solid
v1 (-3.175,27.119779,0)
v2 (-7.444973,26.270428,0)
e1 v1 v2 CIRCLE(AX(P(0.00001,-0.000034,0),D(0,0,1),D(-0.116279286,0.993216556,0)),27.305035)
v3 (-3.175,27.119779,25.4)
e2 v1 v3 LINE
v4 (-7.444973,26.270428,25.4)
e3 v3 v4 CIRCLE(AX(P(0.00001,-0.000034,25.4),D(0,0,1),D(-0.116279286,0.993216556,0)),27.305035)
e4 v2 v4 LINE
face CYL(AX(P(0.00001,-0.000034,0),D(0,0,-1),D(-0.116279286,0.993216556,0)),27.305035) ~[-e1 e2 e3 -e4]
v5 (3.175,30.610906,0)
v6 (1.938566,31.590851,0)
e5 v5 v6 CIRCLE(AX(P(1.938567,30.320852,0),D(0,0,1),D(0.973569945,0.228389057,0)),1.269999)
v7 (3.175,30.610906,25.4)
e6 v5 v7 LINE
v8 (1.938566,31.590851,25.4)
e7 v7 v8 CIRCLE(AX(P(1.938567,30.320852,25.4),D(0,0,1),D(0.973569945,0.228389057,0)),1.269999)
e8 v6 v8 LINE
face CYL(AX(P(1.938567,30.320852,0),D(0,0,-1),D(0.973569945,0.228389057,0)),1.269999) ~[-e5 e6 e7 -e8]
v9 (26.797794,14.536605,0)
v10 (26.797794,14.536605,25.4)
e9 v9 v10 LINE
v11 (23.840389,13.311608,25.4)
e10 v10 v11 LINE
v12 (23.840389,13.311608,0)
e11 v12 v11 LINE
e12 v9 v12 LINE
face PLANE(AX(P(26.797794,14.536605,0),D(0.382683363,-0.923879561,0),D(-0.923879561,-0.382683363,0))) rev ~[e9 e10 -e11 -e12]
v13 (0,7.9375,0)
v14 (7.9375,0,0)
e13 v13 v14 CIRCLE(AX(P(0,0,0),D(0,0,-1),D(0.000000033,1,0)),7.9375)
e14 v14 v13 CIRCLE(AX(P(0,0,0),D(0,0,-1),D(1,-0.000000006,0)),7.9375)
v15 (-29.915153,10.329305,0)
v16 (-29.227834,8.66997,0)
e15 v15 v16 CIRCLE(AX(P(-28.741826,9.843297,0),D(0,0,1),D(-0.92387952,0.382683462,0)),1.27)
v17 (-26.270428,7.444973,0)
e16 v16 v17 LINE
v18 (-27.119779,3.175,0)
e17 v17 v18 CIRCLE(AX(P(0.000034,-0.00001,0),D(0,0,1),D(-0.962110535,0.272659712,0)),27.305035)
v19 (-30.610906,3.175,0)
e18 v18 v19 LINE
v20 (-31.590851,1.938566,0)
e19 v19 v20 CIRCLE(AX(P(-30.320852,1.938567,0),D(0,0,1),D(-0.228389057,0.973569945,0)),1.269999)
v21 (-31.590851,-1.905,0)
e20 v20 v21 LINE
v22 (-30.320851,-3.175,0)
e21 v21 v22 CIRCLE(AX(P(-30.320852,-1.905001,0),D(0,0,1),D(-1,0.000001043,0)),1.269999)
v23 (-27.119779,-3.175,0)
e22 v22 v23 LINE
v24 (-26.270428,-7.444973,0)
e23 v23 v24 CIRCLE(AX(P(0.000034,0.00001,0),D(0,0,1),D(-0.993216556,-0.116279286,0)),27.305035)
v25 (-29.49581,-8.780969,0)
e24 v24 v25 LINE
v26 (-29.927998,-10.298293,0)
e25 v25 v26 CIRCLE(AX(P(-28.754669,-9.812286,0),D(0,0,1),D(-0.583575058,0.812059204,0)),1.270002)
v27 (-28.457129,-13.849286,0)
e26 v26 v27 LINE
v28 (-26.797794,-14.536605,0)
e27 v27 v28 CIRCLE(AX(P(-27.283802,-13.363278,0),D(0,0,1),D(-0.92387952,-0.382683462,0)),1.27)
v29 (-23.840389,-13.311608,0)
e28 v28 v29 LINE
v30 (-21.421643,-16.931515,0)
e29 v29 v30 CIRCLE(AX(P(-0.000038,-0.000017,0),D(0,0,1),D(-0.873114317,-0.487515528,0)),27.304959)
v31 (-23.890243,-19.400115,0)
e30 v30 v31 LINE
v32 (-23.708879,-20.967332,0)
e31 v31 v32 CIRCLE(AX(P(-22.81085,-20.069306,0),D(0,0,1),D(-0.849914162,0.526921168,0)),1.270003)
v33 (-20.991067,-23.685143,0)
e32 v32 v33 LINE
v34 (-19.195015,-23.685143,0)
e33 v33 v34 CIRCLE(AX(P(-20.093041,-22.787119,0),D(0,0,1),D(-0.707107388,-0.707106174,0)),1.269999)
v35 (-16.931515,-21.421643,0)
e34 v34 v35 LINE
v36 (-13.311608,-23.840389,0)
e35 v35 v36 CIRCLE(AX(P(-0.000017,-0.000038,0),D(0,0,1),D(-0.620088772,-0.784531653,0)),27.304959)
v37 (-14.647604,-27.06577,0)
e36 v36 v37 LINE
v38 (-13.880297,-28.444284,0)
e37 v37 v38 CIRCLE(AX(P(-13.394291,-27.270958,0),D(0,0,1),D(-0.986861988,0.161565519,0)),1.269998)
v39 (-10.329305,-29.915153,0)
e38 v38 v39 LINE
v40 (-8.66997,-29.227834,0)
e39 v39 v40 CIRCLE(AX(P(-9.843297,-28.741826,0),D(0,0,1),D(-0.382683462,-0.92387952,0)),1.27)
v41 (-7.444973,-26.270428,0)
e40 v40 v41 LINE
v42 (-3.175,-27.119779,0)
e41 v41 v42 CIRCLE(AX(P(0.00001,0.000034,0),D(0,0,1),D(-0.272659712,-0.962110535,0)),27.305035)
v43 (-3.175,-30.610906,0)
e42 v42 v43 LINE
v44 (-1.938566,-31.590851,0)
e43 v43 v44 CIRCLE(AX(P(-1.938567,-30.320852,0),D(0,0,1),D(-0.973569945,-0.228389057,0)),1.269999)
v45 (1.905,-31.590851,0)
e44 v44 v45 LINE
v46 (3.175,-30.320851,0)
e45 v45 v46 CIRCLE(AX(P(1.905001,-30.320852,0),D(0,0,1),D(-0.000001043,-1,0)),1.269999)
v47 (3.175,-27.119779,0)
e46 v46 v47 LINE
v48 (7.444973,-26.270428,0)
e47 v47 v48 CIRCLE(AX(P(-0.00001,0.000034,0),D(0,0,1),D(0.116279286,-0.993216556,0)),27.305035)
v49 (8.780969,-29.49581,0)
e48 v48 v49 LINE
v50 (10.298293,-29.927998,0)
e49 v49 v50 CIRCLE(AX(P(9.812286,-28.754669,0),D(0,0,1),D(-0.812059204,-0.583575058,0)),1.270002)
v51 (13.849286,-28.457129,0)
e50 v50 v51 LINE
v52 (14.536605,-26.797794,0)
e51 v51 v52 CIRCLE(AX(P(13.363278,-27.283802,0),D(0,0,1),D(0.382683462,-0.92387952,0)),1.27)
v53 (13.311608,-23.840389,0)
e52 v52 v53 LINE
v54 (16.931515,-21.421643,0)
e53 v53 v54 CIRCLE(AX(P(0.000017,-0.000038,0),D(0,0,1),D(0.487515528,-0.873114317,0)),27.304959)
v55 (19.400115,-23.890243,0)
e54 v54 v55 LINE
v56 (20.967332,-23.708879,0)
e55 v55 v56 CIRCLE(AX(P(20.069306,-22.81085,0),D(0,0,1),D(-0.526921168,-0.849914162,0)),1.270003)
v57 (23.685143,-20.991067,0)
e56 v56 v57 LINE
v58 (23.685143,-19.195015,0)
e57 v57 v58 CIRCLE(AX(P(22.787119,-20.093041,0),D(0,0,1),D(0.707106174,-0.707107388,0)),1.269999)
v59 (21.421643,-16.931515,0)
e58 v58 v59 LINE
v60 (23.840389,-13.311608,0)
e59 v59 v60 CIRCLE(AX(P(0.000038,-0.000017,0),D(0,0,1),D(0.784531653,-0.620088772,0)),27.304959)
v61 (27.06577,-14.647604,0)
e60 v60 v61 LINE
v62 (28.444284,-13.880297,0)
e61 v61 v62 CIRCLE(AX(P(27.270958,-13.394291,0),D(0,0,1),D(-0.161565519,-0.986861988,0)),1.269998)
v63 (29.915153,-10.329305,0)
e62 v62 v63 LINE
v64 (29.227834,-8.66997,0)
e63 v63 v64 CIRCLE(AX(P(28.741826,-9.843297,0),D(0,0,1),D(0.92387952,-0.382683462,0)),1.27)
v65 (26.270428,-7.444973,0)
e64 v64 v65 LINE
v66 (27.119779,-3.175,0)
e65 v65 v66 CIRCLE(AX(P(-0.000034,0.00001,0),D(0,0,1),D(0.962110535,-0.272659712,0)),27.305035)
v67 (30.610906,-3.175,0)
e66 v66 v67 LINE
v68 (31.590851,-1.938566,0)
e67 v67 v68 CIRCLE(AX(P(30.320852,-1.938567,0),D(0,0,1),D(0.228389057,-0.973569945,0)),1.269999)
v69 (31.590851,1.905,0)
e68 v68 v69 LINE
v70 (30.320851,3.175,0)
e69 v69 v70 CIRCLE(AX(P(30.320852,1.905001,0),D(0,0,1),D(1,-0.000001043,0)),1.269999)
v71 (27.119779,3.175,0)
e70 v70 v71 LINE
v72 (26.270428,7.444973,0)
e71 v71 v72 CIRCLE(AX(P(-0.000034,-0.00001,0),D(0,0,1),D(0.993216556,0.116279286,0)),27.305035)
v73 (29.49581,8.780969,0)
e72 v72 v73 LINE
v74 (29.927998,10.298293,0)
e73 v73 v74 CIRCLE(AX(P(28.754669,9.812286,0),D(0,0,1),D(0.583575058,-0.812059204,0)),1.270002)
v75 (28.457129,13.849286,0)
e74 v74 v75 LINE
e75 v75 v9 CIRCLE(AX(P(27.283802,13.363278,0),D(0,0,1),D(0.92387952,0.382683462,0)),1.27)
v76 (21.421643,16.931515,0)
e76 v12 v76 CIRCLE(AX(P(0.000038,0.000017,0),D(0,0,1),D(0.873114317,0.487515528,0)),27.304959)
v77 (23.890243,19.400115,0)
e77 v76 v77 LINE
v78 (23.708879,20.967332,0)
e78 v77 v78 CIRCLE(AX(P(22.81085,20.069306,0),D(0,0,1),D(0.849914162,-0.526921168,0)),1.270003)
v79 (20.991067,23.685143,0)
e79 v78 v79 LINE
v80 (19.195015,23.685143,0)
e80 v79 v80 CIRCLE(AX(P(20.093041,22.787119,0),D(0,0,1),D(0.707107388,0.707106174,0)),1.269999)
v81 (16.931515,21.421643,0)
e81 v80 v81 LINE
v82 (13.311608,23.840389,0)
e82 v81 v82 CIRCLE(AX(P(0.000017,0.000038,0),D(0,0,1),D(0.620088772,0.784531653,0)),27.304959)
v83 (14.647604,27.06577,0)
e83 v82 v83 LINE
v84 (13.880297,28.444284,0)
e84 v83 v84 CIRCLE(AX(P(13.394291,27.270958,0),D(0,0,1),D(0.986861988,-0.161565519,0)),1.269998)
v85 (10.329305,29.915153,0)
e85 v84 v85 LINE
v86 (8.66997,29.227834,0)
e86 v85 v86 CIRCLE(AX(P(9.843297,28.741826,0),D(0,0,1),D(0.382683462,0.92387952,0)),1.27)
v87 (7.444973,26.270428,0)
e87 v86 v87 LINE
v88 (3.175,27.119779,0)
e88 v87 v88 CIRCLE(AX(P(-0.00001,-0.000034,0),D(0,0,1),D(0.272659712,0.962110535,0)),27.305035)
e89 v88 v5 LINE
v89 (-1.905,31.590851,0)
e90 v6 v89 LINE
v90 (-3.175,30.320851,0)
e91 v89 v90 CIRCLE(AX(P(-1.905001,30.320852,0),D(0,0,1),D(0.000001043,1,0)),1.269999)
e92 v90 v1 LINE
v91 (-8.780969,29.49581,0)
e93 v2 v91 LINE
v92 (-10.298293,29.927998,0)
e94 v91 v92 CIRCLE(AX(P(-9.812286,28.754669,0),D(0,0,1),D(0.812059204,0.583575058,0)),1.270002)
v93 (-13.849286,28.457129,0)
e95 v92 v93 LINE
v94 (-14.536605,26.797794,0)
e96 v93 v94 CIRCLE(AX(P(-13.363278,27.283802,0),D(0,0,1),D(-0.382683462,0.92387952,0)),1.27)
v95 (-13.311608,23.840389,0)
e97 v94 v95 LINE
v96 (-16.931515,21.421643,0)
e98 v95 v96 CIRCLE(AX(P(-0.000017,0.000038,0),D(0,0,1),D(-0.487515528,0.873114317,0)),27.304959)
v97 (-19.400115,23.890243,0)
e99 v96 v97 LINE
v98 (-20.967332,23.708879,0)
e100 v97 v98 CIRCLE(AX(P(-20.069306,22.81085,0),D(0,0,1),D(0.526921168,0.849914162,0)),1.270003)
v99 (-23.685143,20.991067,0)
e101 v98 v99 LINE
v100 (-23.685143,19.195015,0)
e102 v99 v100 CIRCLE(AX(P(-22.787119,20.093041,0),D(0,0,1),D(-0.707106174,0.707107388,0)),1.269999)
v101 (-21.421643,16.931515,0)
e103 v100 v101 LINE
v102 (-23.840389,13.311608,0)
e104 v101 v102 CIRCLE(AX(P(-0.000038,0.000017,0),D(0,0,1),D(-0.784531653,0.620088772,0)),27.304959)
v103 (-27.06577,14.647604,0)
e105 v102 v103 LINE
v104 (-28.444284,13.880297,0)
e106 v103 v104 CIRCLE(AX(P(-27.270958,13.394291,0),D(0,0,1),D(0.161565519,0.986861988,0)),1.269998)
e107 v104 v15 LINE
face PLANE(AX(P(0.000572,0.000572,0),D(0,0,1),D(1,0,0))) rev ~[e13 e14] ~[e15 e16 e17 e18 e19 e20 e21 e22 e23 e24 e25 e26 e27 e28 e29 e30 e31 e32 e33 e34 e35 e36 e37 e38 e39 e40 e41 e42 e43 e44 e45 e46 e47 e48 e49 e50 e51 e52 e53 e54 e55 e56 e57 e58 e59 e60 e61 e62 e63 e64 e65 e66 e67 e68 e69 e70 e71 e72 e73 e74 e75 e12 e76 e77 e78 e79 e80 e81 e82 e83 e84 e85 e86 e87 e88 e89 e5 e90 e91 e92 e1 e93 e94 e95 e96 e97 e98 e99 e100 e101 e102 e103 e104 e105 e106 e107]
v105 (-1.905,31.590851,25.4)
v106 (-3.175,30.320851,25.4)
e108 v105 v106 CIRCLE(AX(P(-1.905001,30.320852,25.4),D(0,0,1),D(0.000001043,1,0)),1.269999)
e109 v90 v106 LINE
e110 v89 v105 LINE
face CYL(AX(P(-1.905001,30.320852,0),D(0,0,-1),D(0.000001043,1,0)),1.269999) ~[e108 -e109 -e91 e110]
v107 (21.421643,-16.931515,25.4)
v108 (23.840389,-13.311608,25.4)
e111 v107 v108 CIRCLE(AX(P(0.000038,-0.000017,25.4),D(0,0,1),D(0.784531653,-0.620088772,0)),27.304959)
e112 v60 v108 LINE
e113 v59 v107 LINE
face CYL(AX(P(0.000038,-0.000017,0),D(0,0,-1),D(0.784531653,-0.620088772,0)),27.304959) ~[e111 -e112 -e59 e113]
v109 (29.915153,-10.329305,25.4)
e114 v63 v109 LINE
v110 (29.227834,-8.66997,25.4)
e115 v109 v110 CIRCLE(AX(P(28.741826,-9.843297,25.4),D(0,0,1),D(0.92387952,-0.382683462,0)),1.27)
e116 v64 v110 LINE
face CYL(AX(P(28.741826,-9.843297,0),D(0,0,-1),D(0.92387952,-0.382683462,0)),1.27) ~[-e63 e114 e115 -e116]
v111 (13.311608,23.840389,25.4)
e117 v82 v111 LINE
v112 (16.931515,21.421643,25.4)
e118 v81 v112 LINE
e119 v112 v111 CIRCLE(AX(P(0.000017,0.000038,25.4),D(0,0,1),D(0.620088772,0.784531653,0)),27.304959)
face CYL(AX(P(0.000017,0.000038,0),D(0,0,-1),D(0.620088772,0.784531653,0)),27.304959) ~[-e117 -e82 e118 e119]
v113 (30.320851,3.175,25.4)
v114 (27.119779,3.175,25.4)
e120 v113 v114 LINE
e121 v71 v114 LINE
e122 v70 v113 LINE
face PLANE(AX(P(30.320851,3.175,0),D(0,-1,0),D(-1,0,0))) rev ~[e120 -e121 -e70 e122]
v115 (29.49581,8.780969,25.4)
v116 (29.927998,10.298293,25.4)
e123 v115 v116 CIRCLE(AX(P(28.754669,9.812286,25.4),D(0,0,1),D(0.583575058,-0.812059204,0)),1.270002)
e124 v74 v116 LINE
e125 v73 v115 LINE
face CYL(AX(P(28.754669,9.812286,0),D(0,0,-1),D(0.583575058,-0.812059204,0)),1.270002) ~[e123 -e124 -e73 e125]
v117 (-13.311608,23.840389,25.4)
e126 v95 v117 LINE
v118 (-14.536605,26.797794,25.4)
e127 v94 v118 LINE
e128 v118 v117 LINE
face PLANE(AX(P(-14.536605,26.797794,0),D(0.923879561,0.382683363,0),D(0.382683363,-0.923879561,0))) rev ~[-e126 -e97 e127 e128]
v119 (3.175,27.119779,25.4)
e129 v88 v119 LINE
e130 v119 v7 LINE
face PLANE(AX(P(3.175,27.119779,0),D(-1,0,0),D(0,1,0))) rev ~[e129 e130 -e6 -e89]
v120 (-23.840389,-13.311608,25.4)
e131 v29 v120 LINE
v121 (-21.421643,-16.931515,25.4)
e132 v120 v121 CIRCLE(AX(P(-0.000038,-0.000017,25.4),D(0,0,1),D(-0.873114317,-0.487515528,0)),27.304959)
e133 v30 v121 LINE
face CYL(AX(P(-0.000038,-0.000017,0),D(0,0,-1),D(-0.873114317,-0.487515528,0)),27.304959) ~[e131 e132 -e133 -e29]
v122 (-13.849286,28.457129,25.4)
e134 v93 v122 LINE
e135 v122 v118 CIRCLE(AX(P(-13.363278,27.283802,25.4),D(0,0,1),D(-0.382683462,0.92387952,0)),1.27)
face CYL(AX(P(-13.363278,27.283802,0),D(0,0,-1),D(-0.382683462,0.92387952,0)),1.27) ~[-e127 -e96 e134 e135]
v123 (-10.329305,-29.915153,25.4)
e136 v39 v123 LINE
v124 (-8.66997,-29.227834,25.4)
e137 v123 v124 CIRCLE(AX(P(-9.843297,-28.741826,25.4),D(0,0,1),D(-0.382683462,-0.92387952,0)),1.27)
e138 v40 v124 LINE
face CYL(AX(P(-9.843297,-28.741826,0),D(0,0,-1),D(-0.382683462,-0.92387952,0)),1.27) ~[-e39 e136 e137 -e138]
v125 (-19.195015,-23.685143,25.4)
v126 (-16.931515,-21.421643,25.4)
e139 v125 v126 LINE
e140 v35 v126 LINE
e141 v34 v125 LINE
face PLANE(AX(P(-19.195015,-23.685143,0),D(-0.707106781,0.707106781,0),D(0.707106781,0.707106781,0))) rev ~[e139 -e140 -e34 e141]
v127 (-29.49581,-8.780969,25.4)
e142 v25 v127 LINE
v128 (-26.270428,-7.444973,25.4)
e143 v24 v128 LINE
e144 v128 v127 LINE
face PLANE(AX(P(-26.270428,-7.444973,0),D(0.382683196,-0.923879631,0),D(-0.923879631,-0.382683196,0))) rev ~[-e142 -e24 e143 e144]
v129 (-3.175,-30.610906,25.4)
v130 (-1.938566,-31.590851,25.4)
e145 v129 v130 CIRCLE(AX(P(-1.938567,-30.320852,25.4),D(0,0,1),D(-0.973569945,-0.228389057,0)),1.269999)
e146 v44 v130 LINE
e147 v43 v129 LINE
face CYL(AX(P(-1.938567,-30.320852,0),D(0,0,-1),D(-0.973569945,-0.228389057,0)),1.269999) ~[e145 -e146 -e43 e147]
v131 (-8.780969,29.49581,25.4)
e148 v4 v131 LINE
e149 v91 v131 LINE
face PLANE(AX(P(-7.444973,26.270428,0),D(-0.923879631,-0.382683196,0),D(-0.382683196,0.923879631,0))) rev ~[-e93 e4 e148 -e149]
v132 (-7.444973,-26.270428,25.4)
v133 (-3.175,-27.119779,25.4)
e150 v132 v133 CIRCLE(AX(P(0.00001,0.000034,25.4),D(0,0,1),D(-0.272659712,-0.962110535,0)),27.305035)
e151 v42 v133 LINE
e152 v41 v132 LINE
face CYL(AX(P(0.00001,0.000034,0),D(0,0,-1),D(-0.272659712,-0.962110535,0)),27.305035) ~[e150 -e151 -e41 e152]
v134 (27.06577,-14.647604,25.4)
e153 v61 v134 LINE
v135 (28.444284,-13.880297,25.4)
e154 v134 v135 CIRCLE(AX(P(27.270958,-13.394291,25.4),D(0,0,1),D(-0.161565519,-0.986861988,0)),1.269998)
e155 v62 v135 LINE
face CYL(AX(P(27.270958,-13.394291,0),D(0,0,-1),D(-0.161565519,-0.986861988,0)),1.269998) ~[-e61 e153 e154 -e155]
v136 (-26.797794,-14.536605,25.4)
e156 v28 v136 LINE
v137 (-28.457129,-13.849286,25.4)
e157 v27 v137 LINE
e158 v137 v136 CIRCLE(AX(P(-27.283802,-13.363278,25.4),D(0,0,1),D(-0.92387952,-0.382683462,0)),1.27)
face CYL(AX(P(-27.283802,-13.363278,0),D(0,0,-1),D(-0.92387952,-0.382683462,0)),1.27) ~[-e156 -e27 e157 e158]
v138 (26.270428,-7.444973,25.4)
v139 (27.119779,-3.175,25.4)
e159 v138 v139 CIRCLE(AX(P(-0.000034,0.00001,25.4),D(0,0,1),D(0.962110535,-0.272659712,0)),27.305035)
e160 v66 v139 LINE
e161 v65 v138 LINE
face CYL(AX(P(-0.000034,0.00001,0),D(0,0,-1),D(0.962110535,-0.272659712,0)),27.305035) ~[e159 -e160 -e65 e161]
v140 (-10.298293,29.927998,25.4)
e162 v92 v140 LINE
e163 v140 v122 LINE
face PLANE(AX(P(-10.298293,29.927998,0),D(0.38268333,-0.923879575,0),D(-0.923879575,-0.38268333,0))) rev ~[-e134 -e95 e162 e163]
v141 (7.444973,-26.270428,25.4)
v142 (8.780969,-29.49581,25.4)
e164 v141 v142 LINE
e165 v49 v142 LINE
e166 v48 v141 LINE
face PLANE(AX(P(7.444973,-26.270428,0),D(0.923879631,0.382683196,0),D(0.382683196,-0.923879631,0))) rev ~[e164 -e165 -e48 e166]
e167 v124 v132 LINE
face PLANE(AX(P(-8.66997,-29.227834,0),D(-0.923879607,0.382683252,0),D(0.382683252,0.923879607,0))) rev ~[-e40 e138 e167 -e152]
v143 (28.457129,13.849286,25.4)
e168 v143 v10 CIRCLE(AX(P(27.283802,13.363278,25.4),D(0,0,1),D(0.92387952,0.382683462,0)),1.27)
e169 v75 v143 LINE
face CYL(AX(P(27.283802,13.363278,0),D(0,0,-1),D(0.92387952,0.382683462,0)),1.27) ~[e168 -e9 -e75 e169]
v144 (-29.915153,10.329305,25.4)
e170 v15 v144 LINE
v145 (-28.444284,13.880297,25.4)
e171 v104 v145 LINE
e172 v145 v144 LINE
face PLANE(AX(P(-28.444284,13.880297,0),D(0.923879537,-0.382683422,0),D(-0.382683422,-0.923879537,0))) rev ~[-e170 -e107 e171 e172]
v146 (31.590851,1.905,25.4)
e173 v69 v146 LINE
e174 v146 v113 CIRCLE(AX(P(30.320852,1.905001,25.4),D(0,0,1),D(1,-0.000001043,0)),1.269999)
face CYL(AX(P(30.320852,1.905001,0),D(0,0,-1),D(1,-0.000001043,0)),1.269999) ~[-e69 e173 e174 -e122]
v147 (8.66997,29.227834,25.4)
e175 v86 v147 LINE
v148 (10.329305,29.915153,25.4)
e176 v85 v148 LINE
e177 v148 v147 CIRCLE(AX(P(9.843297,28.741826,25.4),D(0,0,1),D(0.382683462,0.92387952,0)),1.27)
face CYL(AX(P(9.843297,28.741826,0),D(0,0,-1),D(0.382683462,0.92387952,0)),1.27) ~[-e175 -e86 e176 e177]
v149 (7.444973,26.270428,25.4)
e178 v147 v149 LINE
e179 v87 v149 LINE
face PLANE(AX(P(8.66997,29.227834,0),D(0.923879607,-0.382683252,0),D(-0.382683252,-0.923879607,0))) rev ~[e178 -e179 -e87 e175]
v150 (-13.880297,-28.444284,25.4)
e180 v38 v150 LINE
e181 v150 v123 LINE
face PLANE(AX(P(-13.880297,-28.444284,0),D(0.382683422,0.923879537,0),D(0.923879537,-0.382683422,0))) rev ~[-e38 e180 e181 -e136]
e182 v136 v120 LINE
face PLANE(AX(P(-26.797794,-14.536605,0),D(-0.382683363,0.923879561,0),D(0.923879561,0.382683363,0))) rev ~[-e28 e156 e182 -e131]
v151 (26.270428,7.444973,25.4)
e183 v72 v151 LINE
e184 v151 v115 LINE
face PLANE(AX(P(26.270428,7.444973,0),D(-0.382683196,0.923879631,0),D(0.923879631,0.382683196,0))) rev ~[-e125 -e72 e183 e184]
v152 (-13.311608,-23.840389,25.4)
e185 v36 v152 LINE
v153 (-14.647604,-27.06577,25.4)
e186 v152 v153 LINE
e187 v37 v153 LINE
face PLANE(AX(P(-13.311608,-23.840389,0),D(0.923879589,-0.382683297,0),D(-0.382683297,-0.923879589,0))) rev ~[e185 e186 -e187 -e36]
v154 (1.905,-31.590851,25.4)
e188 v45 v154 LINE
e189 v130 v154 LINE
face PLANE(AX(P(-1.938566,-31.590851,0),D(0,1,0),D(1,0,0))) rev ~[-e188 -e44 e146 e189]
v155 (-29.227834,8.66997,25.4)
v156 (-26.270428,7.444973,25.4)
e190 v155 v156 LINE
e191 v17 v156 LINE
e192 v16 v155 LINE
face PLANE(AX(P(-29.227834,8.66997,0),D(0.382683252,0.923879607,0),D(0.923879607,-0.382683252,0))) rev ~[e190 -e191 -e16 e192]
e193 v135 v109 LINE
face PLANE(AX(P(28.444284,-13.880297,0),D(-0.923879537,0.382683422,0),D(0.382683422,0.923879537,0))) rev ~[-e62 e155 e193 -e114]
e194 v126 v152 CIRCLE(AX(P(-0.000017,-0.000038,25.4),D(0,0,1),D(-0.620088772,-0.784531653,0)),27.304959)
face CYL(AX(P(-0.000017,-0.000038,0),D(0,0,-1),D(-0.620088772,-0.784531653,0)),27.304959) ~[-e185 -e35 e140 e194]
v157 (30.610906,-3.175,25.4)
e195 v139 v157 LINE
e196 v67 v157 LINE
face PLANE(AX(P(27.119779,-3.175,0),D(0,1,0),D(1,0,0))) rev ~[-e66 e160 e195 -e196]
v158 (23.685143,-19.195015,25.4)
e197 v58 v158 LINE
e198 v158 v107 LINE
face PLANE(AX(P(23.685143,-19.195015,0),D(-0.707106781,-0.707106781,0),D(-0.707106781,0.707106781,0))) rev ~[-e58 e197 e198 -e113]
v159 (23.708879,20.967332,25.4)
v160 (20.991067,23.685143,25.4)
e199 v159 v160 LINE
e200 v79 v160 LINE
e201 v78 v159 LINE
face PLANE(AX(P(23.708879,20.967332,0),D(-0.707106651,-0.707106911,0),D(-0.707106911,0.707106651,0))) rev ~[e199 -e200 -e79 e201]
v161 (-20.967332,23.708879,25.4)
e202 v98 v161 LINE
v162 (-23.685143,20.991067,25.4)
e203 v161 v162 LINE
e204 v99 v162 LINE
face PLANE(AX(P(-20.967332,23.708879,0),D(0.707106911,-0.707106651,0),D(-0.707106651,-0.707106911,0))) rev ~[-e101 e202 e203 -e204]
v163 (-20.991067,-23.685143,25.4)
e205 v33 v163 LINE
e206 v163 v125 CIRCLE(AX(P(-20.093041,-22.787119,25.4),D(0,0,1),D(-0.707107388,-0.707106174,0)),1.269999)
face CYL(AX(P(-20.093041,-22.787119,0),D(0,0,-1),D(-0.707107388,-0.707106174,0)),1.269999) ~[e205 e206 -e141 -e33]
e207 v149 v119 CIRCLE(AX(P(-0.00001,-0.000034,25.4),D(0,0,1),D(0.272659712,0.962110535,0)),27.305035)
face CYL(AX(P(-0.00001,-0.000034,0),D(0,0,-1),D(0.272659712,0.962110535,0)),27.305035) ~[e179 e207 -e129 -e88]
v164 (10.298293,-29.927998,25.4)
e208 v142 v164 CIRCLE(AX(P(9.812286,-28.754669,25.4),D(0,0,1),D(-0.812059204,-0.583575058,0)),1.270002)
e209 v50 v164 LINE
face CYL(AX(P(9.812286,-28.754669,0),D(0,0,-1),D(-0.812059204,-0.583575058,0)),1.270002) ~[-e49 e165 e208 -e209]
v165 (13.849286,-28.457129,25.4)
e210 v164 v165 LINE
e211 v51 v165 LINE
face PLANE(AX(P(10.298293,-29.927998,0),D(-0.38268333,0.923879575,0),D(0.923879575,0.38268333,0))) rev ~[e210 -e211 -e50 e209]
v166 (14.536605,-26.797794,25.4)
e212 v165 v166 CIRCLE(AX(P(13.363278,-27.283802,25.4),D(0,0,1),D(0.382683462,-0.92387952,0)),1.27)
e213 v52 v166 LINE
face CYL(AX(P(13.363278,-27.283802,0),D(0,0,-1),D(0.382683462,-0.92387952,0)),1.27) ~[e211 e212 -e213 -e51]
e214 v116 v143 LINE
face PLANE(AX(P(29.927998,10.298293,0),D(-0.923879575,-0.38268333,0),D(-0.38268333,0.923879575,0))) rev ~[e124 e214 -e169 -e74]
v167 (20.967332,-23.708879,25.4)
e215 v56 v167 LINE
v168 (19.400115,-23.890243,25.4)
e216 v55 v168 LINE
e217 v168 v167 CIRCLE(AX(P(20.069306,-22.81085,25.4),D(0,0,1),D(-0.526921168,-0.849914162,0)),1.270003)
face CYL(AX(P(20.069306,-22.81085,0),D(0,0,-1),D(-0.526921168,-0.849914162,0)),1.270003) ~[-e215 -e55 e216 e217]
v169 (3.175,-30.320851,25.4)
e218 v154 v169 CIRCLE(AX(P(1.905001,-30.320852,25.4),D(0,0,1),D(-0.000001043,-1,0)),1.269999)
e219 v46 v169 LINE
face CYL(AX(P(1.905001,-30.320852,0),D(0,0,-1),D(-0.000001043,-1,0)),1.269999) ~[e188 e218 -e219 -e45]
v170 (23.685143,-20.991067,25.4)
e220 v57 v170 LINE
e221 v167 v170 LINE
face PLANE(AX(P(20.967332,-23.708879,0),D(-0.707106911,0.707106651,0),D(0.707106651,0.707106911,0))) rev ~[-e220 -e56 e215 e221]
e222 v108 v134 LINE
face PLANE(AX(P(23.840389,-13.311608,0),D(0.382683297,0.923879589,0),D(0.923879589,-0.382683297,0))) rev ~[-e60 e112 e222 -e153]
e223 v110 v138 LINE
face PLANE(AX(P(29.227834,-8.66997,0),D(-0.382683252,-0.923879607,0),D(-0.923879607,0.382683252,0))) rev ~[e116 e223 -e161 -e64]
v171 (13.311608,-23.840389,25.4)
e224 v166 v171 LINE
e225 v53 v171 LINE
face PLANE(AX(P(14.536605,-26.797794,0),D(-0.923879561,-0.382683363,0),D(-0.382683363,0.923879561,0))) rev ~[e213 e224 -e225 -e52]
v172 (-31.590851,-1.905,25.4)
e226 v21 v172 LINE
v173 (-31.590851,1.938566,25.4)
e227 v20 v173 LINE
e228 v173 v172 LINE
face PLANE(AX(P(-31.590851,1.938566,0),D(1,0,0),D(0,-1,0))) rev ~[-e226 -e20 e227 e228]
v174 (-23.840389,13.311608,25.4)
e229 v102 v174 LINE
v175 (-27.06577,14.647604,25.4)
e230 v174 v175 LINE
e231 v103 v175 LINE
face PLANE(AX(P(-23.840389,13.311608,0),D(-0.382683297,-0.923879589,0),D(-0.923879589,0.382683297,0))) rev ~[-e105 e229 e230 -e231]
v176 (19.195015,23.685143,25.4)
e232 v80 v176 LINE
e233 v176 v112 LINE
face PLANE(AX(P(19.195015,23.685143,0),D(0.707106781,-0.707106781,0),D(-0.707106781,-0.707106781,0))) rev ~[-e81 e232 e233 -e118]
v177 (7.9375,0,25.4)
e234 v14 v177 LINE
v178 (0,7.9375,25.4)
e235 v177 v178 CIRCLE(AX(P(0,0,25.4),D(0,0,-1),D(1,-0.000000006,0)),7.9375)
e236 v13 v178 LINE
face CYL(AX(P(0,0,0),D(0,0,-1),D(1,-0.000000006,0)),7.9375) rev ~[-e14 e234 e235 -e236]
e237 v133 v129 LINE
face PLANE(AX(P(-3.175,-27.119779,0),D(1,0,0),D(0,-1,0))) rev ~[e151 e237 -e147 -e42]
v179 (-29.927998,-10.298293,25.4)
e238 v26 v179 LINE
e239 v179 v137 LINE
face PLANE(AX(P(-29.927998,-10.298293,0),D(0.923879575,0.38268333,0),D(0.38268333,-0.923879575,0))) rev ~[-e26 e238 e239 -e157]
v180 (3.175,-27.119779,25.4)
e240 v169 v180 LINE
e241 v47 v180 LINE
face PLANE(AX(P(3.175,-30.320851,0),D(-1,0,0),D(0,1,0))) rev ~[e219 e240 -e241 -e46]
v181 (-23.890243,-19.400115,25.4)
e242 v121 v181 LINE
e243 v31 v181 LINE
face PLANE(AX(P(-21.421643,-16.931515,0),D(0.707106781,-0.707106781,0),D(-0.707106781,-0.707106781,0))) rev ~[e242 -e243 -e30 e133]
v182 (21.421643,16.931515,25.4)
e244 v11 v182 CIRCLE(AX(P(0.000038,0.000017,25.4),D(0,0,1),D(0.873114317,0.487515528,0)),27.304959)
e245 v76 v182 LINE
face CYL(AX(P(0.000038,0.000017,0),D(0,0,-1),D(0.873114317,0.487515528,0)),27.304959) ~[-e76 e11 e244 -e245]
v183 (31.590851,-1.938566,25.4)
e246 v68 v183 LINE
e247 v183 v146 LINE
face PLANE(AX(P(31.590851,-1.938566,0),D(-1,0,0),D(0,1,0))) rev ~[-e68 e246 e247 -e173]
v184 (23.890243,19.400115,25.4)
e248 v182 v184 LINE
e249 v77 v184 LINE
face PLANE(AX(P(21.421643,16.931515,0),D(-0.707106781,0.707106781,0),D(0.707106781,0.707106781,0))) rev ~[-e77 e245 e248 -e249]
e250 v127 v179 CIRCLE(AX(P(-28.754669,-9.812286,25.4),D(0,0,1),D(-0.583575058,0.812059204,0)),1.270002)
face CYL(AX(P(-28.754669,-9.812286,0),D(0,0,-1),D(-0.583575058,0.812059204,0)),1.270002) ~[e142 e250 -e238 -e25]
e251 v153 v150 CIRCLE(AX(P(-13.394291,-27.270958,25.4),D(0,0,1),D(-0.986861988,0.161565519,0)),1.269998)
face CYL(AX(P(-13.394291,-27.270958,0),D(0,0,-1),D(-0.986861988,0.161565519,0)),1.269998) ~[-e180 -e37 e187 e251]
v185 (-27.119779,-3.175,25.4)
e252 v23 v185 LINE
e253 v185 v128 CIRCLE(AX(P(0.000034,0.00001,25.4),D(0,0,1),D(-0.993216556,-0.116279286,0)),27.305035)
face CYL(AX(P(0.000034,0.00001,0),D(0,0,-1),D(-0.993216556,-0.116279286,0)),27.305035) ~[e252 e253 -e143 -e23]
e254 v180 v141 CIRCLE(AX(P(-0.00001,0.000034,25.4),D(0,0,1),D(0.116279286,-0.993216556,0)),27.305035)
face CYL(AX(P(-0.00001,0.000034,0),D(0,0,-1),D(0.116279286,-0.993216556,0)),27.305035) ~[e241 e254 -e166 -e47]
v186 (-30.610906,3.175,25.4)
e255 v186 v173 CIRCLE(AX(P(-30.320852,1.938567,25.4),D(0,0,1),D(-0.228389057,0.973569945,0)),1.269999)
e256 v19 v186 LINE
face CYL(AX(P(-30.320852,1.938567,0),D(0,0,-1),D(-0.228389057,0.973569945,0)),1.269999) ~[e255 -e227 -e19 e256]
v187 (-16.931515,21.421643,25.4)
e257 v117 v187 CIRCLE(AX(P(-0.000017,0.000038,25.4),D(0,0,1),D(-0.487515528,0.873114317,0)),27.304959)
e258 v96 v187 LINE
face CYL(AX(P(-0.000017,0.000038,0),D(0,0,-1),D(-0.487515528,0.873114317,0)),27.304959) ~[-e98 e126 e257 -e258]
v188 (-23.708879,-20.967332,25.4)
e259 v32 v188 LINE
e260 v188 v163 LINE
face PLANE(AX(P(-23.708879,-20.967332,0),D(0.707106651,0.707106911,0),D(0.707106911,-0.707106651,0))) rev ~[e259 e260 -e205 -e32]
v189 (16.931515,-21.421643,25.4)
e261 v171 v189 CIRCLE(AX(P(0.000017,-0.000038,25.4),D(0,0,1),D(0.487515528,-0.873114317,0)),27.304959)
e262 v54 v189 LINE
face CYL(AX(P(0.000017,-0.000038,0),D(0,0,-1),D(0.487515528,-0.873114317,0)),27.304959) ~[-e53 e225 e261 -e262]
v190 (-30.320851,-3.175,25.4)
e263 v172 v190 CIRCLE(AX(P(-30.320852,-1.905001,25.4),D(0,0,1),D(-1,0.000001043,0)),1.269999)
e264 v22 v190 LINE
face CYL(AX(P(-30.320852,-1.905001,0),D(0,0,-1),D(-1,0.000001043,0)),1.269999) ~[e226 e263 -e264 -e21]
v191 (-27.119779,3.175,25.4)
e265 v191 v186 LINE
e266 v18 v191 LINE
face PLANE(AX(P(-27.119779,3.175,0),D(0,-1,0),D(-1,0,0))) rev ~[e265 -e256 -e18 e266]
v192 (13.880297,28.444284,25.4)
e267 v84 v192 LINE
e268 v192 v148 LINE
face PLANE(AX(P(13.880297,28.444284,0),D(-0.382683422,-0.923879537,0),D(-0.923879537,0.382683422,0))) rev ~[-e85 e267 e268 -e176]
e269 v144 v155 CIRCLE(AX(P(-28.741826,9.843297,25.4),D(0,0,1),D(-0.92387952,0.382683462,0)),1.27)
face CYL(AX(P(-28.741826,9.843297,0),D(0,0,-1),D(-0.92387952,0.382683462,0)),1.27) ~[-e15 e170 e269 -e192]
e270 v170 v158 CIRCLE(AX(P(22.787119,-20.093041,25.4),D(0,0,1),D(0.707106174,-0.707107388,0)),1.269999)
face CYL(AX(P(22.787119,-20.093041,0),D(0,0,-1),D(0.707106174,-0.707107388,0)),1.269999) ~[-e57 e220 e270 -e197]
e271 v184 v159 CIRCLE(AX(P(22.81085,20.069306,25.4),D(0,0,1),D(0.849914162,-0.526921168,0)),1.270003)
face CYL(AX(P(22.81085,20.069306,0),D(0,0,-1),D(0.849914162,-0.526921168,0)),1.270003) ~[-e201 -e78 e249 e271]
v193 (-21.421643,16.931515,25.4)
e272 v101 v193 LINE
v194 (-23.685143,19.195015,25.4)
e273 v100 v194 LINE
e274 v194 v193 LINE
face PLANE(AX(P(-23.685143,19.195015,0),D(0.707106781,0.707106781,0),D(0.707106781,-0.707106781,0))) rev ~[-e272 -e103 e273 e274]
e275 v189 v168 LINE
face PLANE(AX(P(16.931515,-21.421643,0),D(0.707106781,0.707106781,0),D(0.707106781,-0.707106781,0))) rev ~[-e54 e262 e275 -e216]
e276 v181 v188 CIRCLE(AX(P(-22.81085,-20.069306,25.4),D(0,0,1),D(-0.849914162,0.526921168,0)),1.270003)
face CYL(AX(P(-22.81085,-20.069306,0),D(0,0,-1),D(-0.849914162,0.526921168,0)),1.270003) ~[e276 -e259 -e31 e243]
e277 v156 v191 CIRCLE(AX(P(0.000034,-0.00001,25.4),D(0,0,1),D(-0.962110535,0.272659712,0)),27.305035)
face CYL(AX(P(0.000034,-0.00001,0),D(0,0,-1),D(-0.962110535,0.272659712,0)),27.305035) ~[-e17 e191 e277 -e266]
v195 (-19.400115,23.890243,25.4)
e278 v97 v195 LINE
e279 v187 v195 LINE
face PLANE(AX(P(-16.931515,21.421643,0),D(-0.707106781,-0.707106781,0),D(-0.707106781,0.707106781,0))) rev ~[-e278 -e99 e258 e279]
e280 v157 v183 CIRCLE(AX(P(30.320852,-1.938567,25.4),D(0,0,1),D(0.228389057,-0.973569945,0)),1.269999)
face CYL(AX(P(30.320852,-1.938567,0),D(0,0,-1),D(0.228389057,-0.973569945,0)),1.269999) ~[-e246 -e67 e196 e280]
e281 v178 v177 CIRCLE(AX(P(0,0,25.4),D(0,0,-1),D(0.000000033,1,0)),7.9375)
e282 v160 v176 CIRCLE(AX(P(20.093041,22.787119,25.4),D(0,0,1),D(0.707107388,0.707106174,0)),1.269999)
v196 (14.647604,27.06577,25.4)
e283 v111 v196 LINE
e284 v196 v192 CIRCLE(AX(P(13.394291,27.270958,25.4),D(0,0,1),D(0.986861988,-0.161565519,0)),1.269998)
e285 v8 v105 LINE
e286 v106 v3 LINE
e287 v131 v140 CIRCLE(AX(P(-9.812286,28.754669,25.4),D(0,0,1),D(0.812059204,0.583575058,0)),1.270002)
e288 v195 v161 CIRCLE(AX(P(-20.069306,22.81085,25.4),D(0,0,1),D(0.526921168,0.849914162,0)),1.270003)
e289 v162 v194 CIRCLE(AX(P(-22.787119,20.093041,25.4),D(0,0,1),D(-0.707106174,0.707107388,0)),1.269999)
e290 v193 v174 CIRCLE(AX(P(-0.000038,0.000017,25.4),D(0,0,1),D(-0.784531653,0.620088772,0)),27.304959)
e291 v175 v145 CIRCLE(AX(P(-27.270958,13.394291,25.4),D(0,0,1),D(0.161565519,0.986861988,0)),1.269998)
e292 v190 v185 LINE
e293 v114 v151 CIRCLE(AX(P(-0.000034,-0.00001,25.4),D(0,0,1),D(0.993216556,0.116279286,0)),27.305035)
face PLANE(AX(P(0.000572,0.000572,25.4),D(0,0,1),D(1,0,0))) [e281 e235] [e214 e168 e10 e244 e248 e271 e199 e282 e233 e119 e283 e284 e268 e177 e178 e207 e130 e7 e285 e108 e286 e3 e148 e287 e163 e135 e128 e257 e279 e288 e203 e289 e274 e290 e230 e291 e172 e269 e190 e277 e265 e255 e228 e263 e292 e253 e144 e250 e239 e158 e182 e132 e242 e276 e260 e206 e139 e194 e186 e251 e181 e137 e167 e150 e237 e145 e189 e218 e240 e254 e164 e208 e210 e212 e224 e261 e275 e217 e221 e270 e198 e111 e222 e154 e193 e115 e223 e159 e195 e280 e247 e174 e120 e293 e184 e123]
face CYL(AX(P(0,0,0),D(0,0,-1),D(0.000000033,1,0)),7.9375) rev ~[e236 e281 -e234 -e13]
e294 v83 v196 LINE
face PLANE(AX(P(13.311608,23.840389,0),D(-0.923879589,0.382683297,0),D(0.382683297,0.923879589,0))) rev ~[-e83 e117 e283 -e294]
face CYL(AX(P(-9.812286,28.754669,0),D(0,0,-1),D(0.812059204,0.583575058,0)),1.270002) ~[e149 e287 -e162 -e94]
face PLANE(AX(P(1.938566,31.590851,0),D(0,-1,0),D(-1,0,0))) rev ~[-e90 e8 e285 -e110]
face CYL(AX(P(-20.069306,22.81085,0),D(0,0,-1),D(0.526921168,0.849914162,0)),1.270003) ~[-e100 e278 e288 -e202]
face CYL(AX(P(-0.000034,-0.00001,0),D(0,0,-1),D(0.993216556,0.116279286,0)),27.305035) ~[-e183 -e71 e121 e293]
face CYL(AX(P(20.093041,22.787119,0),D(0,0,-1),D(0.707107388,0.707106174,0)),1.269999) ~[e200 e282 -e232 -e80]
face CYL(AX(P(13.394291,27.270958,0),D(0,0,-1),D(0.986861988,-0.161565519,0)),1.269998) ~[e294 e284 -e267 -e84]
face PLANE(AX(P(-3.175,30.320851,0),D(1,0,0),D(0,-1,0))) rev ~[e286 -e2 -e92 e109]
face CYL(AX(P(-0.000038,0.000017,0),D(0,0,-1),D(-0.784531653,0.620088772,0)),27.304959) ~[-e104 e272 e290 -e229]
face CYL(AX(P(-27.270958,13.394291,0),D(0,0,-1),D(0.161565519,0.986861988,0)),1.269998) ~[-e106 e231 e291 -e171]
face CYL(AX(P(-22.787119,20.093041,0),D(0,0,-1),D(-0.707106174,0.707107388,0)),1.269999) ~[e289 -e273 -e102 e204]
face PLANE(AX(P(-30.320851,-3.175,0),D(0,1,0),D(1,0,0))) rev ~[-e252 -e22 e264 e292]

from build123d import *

# Parameters (mm, degrees)
F1_DEPTH = 25.4


with BuildPart() as f1:
    # F0 (on Top) → F1 (new body)
    with BuildSketch(Plane.XY):
        with BuildLine():
            ThreePointArc((3.175, 27.119779), (1.590199, 27.258655), (0, 27.305))
            ThreePointArc((0, 27.305), (-1.590199, 27.258655), (-3.175, 27.119779))
            ThreePointArc((-3.175, 27.119779), (-5.326941, 26.780342), (-7.444973, 26.270428))
            ThreePointArc((-7.444973, 26.270428), (-10.449171, 25.226531), (-13.311608, 23.840389))
            ThreePointArc((-13.311608, 23.840389), (-15.169845, 22.703278), (-16.931515, 21.421643))
            ThreePointArc((-16.931515, 21.421643), (-19.307551, 19.307551), (-21.421643, 16.931515))
            ThreePointArc((-21.421643, 16.931515), (-22.703278, 15.169845), (-23.840389, 13.311608))
            ThreePointArc((-23.840389, 13.311608), (-25.226531, 10.449171), (-26.270428, 7.444973))
            ThreePointArc((-26.270428, 7.444973), (-26.780342, 5.326941), (-27.119779, 3.175))
            ThreePointArc((-27.119779, 3.175), (-27.305, 0), (-27.119779, -3.175))
            ThreePointArc((-27.119779, -3.175), (-26.780342, -5.326941), (-26.270428, -7.444973))
            ThreePointArc((-26.270428, -7.444973), (-25.226531, -10.449171), (-23.840389, -13.311608))
            ThreePointArc((-23.840389, -13.311608), (-22.703278, -15.169845), (-21.421643, -16.931515))
            ThreePointArc((-21.421643, -16.931515), (-19.307551, -19.307551), (-16.931515, -21.421643))
            ThreePointArc((-16.931515, -21.421643), (-15.169845, -22.703278), (-13.311608, -23.840389))
            ThreePointArc((-13.311608, -23.840389), (-10.449171, -25.226531), (-7.444973, -26.270428))
            ThreePointArc((-7.444973, -26.270428), (-5.326941, -26.780342), (-3.175, -27.119779))
            ThreePointArc((-3.175, -27.119779), (0, -27.305), (3.175, -27.119779))
            ThreePointArc((3.175, -27.119779), (5.326941, -26.780342), (7.444973, -26.270428))
            ThreePointArc((7.444973, -26.270428), (10.449171, -25.226531), (13.311608, -23.840389))
            ThreePointArc((13.311608, -23.840389), (15.169845, -22.703278), (16.931515, -21.421643))
            ThreePointArc((16.931515, -21.421643), (19.307551, -19.307551), (21.421643, -16.931515))
            ThreePointArc((21.421643, -16.931515), (22.703278, -15.169845), (23.840389, -13.311608))
            ThreePointArc((23.840389, -13.311608), (25.226531, -10.449171), (26.270428, -7.444973))
            ThreePointArc((26.270428, -7.444973), (26.780342, -5.326941), (27.119779, -3.175))
            ThreePointArc((27.119779, -3.175), (27.258655, -1.590199), (27.305, 0))
            ThreePointArc((27.305, 0), (27.258655, 1.590199), (27.119779, 3.175))
            ThreePointArc((27.119779, 3.175), (26.780342, 5.326941), (26.270428, 7.444973))
            ThreePointArc((26.270428, 7.444973), (25.226531, 10.449171), (23.840389, 13.311608))
            ThreePointArc((23.840389, 13.311608), (22.703278, 15.169845), (21.421643, 16.931515))
            ThreePointArc((21.421643, 16.931515), (19.307551, 19.307551), (16.931515, 21.421643))
            ThreePointArc((16.931515, 21.421643), (15.169845, 22.703278), (13.311608, 23.840389))
            ThreePointArc((13.311608, 23.840389), (10.449171, 25.226531), (7.444973, 26.270428))
            ThreePointArc((7.444973, 26.270428), (5.326941, 26.780342), (3.175, 27.119779))
        make_face()
        with BuildLine():
            ThreePointArc((7.9375, 0), (-5.61266, -5.61266), (0, 7.9375))
            ThreePointArc((0, 7.9375), (5.61266, 5.61266), (7.9375, 0))
        make_face(mode=Mode.SUBTRACT)
        with BuildLine():
            ThreePointArc((-13.311608, 23.840389), (-10.449171, 25.226531), (-7.444973, 26.270428))
            Line((-7.444973, 26.270428), (-8.780969, 29.49581))
            ThreePointArc((-8.780969, 29.49581), (-9.464382, 29.976089), (-10.298293, 29.927998))
            Line((-10.298293, 29.927998), (-13.849286, 28.457129))
            ThreePointArc((-13.849286, 28.457129), (-14.536605, 27.76981), (-14.536605, 26.797794))
            Line((-14.536605, 26.797794), (-13.311608, 23.840389))
        make_face()
        with BuildLine():
            ThreePointArc((-21.421643, 16.931515), (-19.307551, 19.307551), (-16.931515, 21.421643))
            Line((-16.931515, 21.421643), (-19.400115, 23.890243))
            ThreePointArc((-19.400115, 23.890243), (-20.215301, 24.072433), (-20.967332, 23.708879))
            Line((-20.967332, 23.708879), (-23.685143, 20.991067))
            ThreePointArc((-23.685143, 20.991067), (-24.057118, 20.093041), (-23.685143, 19.195015))
            Line((-23.685143, 19.195015), (-21.421643, 16.931515))
        make_face()
        with BuildLine():
            ThreePointArc((-26.270428, 7.444973), (-25.226531, 10.449171), (-23.840389, 13.311608))
            Line((-23.840389, 13.311608), (-27.06577, 14.647604))
            ThreePointArc((-27.06577, 14.647604), (-27.888625, 14.503968), (-28.444284, 13.880297))
            Line((-28.444284, 13.880297), (-29.915153, 10.329305))
            ThreePointArc((-29.915153, 10.329305), (-29.915153, 9.357289), (-29.227834, 8.66997))
            Line((-29.227834, 8.66997), (-26.270428, 7.444973))
        make_face()
        with BuildLine():
            ThreePointArc((-27.119779, -3.175), (-27.305, 0), (-27.119779, 3.175))
            Line((-27.119779, 3.175), (-30.610906, 3.175))
            ThreePointArc((-30.610906, 3.175), (-31.316158, 2.727404), (-31.590851, 1.938566))
            Line((-31.590851, 1.938566), (-31.590851, -1.905))
            ThreePointArc((-31.590851, -1.905), (-31.218877, -2.803026), (-30.320851, -3.175))
            Line((-30.320851, -3.175), (-27.119779, -3.175))
        make_face()
        with BuildLine():
            ThreePointArc((-23.840389, -13.311608), (-25.226531, -10.449171), (-26.270428, -7.444973))
            Line((-26.270428, -7.444973), (-29.49581, -8.780969))
            ThreePointArc((-29.49581, -8.780969), (-29.976089, -9.464382), (-29.927998, -10.298293))
            Line((-29.927998, -10.298293), (-28.457129, -13.849286))
            ThreePointArc((-28.457129, -13.849286), (-27.76981, -14.536605), (-26.797794, -14.536605))
            Line((-26.797794, -14.536605), (-23.840389, -13.311608))
        make_face()
        with BuildLine():
            ThreePointArc((-16.931515, -21.421643), (-19.307551, -19.307551), (-21.421643, -16.931515))
            Line((-21.421643, -16.931515), (-23.890243, -19.400115))
            ThreePointArc((-23.890243, -19.400115), (-24.072433, -20.215301), (-23.708879, -20.967332))
            Line((-23.708879, -20.967332), (-20.991067, -23.685143))
            ThreePointArc((-20.991067, -23.685143), (-20.093041, -24.057118), (-19.195015, -23.685143))
            Line((-19.195015, -23.685143), (-16.931515, -21.421643))
        make_face()
        with BuildLine():
            ThreePointArc((-7.444973, -26.270428), (-10.449171, -25.226531), (-13.311608, -23.840389))
            Line((-13.311608, -23.840389), (-14.647604, -27.06577))
            ThreePointArc((-14.647604, -27.06577), (-14.503968, -27.888625), (-13.880297, -28.444284))
            Line((-13.880297, -28.444284), (-10.329305, -29.915153))
            ThreePointArc((-10.329305, -29.915153), (-9.357289, -29.915153), (-8.66997, -29.227834))
            Line((-8.66997, -29.227834), (-7.444973, -26.270428))
        make_face()
        with BuildLine():
            ThreePointArc((3.175, -27.119779), (0, -27.305), (-3.175, -27.119779))
            Line((-3.175, -27.119779), (-3.175, -30.610906))
            ThreePointArc((-3.175, -30.610906), (-2.727404, -31.316158), (-1.938566, -31.590851))
            Line((-1.938566, -31.590851), (1.905, -31.590851))
            ThreePointArc((1.905, -31.590851), (2.803026, -31.218877), (3.175, -30.320851))
            Line((3.175, -30.320851), (3.175, -27.119779))
        make_face()
        with BuildLine():
            Line((14.536605, -26.797794), (13.311608, -23.840389))
            ThreePointArc((13.311608, -23.840389), (10.449171, -25.226531), (7.444973, -26.270428))
            Line((7.444973, -26.270428), (8.780969, -29.49581))
            ThreePointArc((8.780969, -29.49581), (9.464382, -29.976089), (10.298293, -29.927998))
            Line((10.298293, -29.927998), (13.849286, -28.457129))
            ThreePointArc((13.849286, -28.457129), (14.536605, -27.76981), (14.536605, -26.797794))
        make_face()
        with BuildLine():
            Line((23.685143, -19.195015), (21.421643, -16.931515))
            ThreePointArc((21.421643, -16.931515), (19.307551, -19.307551), (16.931515, -21.421643))
            Line((16.931515, -21.421643), (19.400115, -23.890243))
            ThreePointArc((19.400115, -23.890243), (20.215301, -24.072433), (20.967332, -23.708879))
            Line((20.967332, -23.708879), (23.685143, -20.991067))
            ThreePointArc((23.685143, -20.991067), (24.057118, -20.093041), (23.685143, -19.195015))
        make_face()
        with BuildLine():
            Line((29.227834, -8.66997), (26.270428, -7.444973))
            ThreePointArc((26.270428, -7.444973), (25.226531, -10.449171), (23.840389, -13.311608))
            Line((23.840389, -13.311608), (27.06577, -14.647604))
            ThreePointArc((27.06577, -14.647604), (27.888625, -14.503968), (28.444284, -13.880297))
            Line((28.444284, -13.880297), (29.915153, -10.329305))
            ThreePointArc((29.915153, -10.329305), (29.915153, -9.357289), (29.227834, -8.66997))
        make_face()
        with BuildLine():
            Line((30.320851, 3.175), (27.119779, 3.175))
            ThreePointArc((27.119779, 3.175), (27.258655, 1.590199), (27.305, 0))
            ThreePointArc((27.305, 0), (27.258655, -1.590199), (27.119779, -3.175))
            Line((27.119779, -3.175), (30.610906, -3.175))
            ThreePointArc((30.610906, -3.175), (31.316158, -2.727404), (31.590851, -1.938566))
            Line((31.590851, -1.938566), (31.590851, 1.905))
            ThreePointArc((31.590851, 1.905), (31.218877, 2.803026), (30.320851, 3.175))
        make_face()
        with BuildLine():
            Line((26.797794, 14.536605), (23.840389, 13.311608))
            ThreePointArc((23.840389, 13.311608), (25.226531, 10.449171), (26.270428, 7.444973))
            Line((26.270428, 7.444973), (29.49581, 8.780969))
            ThreePointArc((29.49581, 8.780969), (29.976089, 9.464382), (29.927998, 10.298293))
            Line((29.927998, 10.298293), (28.457129, 13.849286))
            ThreePointArc((28.457129, 13.849286), (27.76981, 14.536605), (26.797794, 14.536605))
        make_face()
        with BuildLine():
            Line((19.195015, 23.685143), (16.931515, 21.421643))
            ThreePointArc((16.931515, 21.421643), (19.307551, 19.307551), (21.421643, 16.931515))
            Line((21.421643, 16.931515), (23.890243, 19.400115))
            ThreePointArc((23.890243, 19.400115), (24.072433, 20.215301), (23.708879, 20.967332))
            Line((23.708879, 20.967332), (20.991067, 23.685143))
            ThreePointArc((20.991067, 23.685143), (20.093041, 24.057118), (19.195015, 23.685143))
        make_face()
        with BuildLine():
            Line((8.66997, 29.227834), (7.444973, 26.270428))
            ThreePointArc((7.444973, 26.270428), (10.449171, 25.226531), (13.311608, 23.840389))
            Line((13.311608, 23.840389), (14.647604, 27.06577))
            ThreePointArc((14.647604, 27.06577), (14.503968, 27.888625), (13.880297, 28.444284))
            Line((13.880297, 28.444284), (10.329305, 29.915153))
            ThreePointArc((10.329305, 29.915153), (9.357289, 29.915153), (8.66997, 29.227834))
        make_face()
        with BuildLine():
            Line((1.938566, 31.590851), (0, 31.590851))
            Line((0, 31.590851), (0, 27.305))
            ThreePointArc((0, 27.305), (1.590199, 27.258655), (3.175, 27.119779))
            Line((3.175, 27.119779), (3.175, 30.610906))
            ThreePointArc((3.175, 30.610906), (2.727404, 31.316158), (1.938566, 31.590851))
        make_face()
        with BuildLine():
            Line((0, 27.305), (0, 31.590851))
            Line((0, 31.590851), (-1.905, 31.590851))
            ThreePointArc((-1.905, 31.590851), (-2.803026, 31.218877), (-3.175, 30.320851))
            Line((-3.175, 30.320851), (-3.175, 27.119779))
            ThreePointArc((-3.175, 27.119779), (-1.590199, 27.258655), (0, 27.305))
        make_face()
    extrude(amount=F1_DEPTH)


solid = f1.part
